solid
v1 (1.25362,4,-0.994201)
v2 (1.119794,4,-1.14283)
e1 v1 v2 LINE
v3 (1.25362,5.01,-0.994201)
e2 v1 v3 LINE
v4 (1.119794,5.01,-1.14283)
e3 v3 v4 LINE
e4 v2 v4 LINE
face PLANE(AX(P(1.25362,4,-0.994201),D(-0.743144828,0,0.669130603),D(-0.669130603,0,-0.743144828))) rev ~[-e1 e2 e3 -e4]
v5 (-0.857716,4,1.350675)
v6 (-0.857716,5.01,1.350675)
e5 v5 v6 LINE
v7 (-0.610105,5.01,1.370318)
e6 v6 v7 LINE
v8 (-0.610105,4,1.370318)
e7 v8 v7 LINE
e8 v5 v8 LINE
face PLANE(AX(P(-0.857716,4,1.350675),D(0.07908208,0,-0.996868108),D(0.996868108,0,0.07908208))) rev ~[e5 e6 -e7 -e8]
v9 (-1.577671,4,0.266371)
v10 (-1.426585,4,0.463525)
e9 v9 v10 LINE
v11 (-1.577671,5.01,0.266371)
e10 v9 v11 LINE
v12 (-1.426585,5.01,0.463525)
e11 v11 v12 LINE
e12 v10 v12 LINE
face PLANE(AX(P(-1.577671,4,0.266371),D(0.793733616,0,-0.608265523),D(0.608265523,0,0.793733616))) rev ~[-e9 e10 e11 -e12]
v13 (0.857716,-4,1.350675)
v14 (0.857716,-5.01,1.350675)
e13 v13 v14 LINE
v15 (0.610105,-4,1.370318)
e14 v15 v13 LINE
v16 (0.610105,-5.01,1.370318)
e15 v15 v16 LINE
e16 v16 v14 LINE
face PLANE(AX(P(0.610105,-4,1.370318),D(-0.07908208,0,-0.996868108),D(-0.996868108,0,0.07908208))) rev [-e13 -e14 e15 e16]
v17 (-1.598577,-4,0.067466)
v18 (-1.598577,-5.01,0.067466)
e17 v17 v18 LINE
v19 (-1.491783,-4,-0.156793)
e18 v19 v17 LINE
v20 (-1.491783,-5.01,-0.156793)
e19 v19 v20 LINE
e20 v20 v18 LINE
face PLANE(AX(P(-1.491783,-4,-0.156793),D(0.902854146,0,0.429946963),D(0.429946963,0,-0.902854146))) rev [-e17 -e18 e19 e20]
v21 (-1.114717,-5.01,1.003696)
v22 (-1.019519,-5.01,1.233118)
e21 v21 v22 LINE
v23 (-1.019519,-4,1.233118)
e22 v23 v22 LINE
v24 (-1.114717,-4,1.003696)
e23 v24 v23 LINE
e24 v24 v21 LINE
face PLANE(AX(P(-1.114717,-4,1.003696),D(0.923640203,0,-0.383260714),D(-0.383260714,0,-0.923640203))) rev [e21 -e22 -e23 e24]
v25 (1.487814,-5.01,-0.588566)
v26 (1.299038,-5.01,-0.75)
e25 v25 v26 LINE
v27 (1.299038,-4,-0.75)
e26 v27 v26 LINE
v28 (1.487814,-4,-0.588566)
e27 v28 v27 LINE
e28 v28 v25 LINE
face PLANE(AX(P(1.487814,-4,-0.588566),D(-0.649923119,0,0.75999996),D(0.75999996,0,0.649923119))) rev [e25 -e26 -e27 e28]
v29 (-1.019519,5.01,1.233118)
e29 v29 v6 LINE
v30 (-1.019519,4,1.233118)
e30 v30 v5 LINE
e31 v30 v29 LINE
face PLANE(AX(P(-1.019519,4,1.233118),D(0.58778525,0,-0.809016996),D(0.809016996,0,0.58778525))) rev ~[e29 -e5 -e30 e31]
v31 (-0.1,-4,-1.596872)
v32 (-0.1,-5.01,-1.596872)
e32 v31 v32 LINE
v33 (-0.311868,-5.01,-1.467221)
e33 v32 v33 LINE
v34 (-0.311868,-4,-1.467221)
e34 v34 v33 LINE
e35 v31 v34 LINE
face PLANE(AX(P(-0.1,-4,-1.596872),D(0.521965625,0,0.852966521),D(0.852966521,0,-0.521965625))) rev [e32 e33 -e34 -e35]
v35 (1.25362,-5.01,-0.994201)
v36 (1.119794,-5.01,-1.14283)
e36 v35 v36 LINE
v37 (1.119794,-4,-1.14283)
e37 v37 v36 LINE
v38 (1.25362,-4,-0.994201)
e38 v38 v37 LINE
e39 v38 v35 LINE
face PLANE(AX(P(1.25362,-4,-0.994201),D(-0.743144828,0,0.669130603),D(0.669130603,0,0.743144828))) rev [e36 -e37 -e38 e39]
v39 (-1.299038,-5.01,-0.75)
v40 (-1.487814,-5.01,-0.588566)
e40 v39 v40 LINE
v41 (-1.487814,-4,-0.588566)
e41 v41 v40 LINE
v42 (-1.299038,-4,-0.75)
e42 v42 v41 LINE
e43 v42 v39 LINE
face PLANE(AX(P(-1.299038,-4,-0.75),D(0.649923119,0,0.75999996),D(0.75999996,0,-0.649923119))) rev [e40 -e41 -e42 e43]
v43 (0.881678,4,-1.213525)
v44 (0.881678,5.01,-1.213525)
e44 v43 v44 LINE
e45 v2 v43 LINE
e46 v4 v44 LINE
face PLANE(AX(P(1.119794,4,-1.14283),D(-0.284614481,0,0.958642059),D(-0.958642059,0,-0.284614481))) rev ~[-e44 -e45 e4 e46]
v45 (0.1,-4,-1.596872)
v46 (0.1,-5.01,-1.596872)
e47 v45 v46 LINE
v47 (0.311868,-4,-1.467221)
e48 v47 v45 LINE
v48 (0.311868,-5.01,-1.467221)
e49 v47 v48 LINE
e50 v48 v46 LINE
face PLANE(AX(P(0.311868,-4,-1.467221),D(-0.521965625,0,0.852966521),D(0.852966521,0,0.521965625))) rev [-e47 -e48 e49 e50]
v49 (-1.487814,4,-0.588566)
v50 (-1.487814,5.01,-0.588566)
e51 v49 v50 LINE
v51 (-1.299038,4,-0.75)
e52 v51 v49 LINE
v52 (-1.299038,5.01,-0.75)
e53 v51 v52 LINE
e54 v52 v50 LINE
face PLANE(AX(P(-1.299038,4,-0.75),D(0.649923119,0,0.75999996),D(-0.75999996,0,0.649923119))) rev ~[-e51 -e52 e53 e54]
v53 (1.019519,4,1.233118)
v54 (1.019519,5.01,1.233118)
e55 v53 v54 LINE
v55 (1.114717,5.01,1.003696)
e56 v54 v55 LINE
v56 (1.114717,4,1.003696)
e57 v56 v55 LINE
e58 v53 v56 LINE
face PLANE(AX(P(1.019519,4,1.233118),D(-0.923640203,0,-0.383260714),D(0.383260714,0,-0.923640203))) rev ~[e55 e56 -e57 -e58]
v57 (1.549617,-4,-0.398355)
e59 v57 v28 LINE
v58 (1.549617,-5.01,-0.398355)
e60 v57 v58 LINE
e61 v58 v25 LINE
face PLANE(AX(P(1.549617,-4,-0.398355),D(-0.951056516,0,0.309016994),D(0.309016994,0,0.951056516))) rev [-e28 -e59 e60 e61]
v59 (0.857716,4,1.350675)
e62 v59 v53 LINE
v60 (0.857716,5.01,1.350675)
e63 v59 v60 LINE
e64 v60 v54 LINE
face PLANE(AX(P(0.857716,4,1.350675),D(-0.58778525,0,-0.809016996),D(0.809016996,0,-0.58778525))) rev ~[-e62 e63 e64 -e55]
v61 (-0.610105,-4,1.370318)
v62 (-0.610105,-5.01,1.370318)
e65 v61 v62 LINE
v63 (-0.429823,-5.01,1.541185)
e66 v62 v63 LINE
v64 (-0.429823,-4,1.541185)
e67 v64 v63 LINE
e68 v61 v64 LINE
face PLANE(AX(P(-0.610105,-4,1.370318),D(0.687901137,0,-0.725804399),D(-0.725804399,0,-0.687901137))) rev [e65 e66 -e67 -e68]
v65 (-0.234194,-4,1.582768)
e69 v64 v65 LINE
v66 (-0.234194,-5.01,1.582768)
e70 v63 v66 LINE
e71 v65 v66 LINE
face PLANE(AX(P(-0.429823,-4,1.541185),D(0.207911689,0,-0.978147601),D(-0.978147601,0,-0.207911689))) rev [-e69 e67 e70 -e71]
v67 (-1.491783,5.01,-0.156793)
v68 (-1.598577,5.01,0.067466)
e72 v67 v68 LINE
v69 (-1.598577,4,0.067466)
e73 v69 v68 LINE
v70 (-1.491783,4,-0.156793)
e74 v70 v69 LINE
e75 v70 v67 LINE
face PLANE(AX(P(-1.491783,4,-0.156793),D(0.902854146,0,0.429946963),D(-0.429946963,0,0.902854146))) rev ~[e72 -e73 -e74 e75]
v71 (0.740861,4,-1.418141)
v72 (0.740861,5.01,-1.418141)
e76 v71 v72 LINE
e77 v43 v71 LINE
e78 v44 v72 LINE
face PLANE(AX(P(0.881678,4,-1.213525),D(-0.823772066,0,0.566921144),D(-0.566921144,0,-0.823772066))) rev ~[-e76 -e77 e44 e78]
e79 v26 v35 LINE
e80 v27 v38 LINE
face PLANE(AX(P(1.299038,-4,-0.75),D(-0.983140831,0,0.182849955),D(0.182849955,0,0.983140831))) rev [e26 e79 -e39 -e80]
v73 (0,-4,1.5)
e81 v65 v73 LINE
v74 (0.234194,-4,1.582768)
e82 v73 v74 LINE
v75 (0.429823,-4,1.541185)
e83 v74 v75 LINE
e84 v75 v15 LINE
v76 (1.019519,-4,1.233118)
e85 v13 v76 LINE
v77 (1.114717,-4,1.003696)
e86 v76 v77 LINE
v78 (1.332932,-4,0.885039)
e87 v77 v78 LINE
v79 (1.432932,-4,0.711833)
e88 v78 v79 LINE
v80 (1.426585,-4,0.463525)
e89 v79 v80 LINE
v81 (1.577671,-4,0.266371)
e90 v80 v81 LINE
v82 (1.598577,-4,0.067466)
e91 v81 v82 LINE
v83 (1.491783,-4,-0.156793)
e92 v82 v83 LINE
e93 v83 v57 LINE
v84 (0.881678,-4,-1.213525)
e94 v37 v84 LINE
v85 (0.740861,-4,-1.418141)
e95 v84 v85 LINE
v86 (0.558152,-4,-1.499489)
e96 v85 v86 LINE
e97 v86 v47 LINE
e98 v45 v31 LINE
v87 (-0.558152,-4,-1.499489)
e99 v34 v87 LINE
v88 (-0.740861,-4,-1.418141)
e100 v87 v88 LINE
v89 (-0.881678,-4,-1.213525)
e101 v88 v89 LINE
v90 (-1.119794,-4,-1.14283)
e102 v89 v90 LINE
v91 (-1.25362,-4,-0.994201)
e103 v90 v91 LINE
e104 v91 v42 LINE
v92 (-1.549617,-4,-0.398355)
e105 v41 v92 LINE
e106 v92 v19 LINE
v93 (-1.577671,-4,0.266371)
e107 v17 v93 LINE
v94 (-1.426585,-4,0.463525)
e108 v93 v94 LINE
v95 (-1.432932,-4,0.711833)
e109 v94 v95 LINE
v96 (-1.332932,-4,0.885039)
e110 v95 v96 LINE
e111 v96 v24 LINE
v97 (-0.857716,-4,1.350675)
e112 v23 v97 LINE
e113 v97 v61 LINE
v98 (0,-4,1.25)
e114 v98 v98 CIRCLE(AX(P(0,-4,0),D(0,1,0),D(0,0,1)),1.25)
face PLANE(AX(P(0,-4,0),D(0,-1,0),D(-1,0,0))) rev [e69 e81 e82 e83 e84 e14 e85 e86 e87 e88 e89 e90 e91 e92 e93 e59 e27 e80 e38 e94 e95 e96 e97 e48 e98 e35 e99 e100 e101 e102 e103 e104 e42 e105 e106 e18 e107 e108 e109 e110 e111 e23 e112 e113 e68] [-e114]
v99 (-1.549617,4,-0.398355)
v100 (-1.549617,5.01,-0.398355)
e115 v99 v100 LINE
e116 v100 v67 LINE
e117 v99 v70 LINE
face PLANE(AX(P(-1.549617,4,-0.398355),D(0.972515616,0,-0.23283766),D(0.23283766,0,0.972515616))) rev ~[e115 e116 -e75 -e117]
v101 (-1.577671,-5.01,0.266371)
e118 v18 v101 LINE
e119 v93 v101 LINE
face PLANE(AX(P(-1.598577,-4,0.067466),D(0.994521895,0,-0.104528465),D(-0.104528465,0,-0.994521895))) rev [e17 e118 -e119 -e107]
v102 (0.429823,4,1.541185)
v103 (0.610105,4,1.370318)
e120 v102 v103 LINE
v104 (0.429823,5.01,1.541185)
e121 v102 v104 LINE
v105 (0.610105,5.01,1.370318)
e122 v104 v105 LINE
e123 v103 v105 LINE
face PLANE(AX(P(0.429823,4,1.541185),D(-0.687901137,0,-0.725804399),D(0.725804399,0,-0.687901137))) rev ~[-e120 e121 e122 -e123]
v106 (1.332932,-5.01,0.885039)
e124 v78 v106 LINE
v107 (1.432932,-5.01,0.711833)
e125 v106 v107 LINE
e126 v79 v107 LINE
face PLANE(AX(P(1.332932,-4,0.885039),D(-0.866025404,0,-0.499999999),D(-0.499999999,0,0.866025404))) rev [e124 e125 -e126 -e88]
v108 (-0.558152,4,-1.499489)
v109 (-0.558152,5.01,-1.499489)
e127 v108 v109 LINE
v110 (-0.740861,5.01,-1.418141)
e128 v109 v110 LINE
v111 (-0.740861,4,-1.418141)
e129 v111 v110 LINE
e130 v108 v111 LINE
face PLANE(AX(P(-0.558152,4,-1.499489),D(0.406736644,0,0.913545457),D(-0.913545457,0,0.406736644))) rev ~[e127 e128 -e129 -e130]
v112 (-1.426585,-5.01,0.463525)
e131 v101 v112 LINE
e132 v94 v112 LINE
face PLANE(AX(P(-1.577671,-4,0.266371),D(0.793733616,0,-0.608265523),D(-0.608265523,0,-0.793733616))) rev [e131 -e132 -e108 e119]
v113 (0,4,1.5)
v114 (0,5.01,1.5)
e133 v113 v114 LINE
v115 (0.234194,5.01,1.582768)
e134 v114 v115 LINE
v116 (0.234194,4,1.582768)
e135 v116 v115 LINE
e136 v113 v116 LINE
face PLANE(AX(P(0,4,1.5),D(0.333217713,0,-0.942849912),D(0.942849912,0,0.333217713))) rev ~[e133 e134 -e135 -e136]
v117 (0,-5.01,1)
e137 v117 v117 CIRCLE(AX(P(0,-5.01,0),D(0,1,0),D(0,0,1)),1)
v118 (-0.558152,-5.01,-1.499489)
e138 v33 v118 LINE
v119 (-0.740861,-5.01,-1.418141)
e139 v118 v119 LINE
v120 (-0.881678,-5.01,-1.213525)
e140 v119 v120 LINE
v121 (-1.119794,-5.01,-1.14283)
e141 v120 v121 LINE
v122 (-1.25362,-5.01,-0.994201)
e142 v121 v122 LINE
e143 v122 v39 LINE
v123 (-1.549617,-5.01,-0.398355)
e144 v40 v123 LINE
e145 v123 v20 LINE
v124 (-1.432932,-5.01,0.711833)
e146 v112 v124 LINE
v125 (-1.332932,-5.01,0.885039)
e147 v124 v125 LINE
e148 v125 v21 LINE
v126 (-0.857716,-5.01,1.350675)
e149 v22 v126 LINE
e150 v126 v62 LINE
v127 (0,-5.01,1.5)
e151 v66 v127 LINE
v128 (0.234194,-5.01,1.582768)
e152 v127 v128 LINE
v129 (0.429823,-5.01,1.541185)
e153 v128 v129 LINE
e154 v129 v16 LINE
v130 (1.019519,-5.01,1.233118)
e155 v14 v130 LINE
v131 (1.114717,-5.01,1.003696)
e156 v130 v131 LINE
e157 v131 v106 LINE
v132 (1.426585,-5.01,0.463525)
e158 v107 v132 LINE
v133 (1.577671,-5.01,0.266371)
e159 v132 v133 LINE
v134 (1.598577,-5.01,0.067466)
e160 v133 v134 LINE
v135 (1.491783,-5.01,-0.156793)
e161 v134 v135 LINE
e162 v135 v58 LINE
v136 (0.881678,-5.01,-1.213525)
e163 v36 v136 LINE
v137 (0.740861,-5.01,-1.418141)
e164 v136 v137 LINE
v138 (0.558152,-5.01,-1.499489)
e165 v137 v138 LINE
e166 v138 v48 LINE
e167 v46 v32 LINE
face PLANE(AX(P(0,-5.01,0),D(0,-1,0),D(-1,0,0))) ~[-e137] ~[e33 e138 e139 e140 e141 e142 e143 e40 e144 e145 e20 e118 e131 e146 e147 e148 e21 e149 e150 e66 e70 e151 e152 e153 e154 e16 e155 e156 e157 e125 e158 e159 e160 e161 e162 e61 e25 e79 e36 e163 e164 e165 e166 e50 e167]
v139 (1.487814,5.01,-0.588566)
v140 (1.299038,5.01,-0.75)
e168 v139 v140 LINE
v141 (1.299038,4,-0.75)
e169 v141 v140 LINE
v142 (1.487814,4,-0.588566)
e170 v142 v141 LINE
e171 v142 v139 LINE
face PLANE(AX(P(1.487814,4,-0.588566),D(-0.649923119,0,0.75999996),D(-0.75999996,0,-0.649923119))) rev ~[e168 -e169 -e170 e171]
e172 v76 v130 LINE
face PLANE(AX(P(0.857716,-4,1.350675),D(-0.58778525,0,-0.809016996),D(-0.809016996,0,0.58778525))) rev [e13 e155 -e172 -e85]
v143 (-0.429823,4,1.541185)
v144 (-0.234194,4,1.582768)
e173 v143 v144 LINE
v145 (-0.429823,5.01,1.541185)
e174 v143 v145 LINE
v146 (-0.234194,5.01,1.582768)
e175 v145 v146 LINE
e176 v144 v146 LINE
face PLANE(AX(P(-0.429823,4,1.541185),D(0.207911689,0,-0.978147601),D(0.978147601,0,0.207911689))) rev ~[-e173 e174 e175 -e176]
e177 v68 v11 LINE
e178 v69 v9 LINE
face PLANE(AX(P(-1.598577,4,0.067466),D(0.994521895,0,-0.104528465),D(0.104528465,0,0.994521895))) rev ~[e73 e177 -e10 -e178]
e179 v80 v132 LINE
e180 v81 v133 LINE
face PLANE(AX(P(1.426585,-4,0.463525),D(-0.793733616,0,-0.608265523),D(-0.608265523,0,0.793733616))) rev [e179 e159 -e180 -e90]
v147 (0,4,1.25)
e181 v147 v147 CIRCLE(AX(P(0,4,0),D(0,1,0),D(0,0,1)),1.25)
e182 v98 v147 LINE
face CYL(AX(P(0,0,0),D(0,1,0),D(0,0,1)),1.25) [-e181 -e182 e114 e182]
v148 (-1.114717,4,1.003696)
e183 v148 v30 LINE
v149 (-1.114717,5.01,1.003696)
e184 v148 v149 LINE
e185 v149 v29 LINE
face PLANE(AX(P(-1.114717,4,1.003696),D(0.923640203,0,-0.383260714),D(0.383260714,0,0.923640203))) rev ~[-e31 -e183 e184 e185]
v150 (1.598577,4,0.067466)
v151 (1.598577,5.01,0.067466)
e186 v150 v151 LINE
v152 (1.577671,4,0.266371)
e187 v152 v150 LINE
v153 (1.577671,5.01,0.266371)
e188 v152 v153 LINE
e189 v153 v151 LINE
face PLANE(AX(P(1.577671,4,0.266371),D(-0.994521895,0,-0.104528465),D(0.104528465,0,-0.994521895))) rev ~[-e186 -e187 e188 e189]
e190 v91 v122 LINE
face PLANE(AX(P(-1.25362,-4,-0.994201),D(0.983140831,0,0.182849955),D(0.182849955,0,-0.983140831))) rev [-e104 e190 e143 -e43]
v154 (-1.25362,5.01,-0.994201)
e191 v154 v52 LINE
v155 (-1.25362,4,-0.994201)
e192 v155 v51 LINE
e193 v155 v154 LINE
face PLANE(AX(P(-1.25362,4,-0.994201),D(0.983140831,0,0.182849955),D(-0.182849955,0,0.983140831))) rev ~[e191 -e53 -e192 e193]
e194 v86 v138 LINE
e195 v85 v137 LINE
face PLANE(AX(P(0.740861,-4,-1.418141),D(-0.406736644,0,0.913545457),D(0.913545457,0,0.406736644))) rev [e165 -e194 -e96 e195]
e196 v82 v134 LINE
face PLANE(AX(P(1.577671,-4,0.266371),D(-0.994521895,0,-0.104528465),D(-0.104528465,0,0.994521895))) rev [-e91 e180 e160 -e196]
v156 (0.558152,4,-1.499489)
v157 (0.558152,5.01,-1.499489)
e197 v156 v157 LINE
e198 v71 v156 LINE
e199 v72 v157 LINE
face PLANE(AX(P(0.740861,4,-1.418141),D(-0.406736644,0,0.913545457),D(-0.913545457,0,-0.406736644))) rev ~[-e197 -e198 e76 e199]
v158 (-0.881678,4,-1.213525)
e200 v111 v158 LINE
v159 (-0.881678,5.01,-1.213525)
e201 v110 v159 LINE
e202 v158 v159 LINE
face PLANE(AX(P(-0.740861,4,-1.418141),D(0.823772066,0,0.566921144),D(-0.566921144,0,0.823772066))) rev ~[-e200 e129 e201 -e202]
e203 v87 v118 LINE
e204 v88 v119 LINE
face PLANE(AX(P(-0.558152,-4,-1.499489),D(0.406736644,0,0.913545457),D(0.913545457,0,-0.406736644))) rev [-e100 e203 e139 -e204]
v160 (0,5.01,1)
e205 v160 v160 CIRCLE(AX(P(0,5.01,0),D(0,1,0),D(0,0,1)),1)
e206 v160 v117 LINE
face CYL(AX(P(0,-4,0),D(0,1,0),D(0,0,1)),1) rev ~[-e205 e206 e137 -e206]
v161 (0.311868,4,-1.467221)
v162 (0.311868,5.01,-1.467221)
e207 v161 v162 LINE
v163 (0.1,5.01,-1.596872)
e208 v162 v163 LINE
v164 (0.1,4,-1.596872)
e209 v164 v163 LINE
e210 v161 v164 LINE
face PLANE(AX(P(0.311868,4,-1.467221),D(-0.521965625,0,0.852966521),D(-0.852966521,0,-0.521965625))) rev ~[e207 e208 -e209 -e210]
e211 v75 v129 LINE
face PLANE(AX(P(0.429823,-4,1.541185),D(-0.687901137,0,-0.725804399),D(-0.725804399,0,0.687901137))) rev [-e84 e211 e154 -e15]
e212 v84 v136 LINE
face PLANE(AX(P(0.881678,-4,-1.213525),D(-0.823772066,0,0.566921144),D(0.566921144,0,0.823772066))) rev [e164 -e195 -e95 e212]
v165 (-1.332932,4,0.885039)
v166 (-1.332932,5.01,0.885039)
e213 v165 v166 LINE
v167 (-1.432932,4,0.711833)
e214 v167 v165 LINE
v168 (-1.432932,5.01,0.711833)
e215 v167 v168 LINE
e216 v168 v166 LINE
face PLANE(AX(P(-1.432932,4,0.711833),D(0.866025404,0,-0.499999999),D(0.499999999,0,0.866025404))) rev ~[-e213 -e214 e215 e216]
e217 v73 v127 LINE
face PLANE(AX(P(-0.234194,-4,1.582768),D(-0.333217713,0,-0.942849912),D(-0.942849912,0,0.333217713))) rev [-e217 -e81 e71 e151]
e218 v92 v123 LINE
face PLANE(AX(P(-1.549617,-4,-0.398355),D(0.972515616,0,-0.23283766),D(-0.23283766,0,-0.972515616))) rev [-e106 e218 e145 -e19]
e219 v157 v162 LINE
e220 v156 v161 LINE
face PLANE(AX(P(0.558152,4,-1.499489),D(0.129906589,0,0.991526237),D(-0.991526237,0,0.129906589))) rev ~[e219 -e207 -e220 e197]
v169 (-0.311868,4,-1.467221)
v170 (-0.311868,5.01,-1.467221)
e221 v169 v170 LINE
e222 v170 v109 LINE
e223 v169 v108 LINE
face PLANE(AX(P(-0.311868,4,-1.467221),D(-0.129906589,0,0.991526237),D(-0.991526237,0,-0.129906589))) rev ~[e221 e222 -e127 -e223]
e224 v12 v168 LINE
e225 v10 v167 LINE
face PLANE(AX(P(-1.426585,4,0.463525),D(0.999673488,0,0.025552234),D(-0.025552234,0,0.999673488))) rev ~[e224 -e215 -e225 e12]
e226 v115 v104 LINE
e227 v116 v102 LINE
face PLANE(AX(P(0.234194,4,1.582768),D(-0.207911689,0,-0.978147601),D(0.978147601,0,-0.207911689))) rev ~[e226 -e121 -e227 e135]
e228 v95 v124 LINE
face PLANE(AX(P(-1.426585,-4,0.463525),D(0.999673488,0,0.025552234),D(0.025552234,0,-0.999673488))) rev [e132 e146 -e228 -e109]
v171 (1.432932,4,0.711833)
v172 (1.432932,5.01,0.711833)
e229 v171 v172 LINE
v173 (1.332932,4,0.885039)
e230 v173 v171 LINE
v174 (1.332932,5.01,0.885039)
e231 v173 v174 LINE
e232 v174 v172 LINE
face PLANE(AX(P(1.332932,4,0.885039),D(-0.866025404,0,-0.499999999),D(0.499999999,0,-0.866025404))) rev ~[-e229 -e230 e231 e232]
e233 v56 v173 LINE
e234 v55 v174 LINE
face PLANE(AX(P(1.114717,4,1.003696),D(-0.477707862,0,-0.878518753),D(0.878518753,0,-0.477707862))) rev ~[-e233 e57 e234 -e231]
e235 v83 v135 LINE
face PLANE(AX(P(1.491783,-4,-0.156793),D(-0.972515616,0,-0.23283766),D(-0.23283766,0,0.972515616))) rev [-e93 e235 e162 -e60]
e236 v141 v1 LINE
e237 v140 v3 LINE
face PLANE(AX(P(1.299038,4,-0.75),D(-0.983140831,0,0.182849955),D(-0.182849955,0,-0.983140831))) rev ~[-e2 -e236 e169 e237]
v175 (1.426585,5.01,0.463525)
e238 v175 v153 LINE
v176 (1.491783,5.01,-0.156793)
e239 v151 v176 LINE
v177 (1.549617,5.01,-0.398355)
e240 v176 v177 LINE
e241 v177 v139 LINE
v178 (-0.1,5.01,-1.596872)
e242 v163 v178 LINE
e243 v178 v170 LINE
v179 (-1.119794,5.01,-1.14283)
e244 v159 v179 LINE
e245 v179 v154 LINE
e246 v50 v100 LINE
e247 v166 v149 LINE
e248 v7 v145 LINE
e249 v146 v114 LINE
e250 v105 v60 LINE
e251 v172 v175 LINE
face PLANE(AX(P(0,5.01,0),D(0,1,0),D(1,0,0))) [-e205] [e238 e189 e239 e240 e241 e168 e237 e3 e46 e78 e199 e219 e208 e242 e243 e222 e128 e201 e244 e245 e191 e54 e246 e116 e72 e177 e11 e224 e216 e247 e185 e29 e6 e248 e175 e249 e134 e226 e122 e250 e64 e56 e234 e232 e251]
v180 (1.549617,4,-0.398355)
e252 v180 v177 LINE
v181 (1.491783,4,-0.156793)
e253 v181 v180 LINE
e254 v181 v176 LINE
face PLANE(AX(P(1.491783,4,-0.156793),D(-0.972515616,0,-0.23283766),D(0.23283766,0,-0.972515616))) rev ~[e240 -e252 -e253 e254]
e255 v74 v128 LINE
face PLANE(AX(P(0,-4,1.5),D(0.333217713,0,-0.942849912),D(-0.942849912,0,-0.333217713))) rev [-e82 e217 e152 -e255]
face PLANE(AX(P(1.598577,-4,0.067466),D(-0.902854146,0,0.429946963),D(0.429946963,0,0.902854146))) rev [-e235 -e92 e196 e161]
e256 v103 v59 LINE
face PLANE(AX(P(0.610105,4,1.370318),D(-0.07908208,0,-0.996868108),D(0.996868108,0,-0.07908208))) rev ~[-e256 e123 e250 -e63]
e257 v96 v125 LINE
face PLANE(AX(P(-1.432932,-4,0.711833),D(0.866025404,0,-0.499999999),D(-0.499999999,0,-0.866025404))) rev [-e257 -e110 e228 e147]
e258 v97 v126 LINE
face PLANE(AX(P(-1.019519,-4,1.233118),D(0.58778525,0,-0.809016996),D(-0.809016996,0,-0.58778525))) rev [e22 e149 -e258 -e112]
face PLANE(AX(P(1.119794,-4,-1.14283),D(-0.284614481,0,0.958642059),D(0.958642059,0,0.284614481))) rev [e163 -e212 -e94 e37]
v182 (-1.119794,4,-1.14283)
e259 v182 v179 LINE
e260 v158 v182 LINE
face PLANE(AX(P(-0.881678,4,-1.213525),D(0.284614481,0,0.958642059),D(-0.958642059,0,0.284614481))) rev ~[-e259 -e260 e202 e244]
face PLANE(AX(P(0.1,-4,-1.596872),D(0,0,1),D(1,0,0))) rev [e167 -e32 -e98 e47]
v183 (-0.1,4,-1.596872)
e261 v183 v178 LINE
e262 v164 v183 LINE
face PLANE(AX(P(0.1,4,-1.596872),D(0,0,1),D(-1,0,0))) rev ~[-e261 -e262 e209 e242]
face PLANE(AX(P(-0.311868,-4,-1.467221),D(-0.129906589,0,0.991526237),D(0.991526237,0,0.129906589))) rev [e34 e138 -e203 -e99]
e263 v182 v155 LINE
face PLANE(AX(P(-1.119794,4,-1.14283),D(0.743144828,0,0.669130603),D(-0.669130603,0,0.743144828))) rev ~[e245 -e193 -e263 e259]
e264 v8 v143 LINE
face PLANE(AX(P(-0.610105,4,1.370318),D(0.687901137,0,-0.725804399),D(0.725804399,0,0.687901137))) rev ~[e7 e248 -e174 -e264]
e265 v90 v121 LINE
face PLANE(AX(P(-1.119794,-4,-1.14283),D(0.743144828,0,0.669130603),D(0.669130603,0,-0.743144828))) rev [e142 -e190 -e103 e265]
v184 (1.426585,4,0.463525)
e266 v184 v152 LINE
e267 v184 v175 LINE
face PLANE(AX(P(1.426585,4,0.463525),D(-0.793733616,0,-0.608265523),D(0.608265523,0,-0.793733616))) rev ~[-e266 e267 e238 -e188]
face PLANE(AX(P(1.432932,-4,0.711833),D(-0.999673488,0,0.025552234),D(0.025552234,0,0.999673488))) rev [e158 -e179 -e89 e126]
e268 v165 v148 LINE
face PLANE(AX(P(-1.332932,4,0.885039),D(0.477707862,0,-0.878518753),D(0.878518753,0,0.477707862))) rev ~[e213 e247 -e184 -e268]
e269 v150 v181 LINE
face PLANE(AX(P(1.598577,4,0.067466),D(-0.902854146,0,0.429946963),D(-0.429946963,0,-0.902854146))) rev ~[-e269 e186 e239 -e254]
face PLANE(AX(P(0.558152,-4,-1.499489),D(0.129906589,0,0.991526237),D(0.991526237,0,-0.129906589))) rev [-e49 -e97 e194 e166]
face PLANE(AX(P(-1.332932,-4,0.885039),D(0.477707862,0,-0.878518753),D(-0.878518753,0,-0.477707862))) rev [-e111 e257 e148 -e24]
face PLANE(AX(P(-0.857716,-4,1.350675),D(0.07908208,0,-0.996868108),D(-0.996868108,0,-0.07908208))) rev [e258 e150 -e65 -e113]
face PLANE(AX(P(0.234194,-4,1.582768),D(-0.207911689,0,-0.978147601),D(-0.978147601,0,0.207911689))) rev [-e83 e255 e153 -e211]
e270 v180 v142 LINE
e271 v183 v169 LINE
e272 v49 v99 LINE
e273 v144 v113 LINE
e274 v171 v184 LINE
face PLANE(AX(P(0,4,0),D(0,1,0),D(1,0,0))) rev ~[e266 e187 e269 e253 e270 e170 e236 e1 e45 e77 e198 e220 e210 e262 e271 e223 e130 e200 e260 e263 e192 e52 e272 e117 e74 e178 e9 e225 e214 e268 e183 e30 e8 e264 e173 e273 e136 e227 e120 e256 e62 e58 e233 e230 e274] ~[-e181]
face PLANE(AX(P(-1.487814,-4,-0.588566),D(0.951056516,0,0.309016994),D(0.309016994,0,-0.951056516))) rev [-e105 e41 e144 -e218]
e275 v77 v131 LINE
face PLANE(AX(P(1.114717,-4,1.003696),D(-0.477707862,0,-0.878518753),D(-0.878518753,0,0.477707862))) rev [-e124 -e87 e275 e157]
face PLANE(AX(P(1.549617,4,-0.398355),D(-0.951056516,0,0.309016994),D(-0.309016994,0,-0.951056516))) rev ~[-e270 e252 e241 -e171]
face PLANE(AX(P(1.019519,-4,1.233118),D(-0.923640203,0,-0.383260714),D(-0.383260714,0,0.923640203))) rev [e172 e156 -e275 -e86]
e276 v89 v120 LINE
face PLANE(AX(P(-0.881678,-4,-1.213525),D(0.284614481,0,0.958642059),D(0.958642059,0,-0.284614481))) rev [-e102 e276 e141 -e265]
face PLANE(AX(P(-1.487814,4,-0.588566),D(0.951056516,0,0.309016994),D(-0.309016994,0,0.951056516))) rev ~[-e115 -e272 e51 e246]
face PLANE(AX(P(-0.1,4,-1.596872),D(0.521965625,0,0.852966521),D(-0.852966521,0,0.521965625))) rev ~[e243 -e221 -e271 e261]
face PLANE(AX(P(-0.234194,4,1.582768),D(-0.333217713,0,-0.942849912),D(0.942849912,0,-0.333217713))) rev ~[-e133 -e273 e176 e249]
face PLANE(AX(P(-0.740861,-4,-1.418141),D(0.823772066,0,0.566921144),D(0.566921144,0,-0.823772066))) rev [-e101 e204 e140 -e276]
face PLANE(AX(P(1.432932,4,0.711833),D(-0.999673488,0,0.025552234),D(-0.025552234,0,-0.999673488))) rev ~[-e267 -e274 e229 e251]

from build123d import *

# Parameters (mm, degrees)
SKETCH1_R           = 1.25
SKETCH1_R_2         = 1
BOSS_EXTRUDE1_DEPTH = 4
SKETCH2_R           = 1
BOSS_EXTRUDE2_DEPTH = 1.01


with BuildPart() as part:
    # Sketch1 → Boss-Extrude1 (new body)
    with BuildSketch(Plane(origin=(0, 0, 0), x_dir=(1, 0, 0), z_dir=(0, 1, 0))):
        with Locations(Location((0, 0, 0), (0, 0, 270))):
            Circle(SKETCH1_R)
        with Locations(Location((0, 0, 0), (0, 0, 270))):
            Circle(SKETCH1_R_2, mode=Mode.SUBTRACT)
    boss_extrude1 = extrude(amount=BOSS_EXTRUDE1_DEPTH)

    # Sketch2 → Boss-Extrude2 (add)
    with BuildSketch(Plane(origin=(0, 4, 0), x_dir=(1, 0, 0), z_dir=(0, 1, 0))):
        Polygon((-0.740860879, 1.418141445), (-0.881677878, 1.213525492), (-1.11979406, 1.142830374), (-1.253620181, 0.994201408), (-1.299038106, 0.75), (-1.487813767, 0.58856622), (-1.549617166, 0.398354916), (-1.491782843, 0.156792695), (-1.598576957, -0.067466381), (-1.577671264, -0.26637076), (-1.426584774, -0.463525492), (-1.432931669, -0.711833431), (-1.332931669, -0.885038512), (-1.114717238, -1.00369591), (-1.019519477, -1.233118014), (-0.857716078, -1.350675064), (-0.610104965, -1.370318186), (-0.429823106, -1.54118529), (-0.234193585, -1.582767628), (0, -1.5), (0.234193585, -1.582767628), (0.429823106, -1.54118529), (0.610104965, -1.370318186), (0.857716078, -1.350675064), (1.019519477, -1.233118014), (1.114717238, -1.00369591), (1.332931669, -0.885038512), (1.432931669, -0.711833431), (1.426584774, -0.463525492), (1.577671264, -0.26637076), (1.598576957, -0.067466381), (1.491782843, 0.156792695), (1.549617166, 0.398354916), (1.487813767, 0.58856622), (1.299038106, 0.75), (1.253620181, 0.994201408), (1.11979406, 1.142830374), (0.881677878, 1.213525492), (0.740860879, 1.418141445), (0.558151787, 1.499488774), (0.311867536, 1.467221401), (0.1, 1.596871942), (-0.1, 1.596871942), (-0.311867536, 1.467221401), (-0.558151787, 1.499488774), align=None)
        with Locations(Location((0, 0, 0), (0, 0, 270))):
            Circle(SKETCH2_R, mode=Mode.SUBTRACT)
    boss_extrude2 = extrude(amount=BOSS_EXTRUDE2_DEPTH)

    # Mirror1: Boss-Extrude1, Boss-Extrude2 across plane
    add(boss_extrude1.mirror(Plane.ZX))
    add(boss_extrude2.mirror(Plane.ZX))


solid = part.part
